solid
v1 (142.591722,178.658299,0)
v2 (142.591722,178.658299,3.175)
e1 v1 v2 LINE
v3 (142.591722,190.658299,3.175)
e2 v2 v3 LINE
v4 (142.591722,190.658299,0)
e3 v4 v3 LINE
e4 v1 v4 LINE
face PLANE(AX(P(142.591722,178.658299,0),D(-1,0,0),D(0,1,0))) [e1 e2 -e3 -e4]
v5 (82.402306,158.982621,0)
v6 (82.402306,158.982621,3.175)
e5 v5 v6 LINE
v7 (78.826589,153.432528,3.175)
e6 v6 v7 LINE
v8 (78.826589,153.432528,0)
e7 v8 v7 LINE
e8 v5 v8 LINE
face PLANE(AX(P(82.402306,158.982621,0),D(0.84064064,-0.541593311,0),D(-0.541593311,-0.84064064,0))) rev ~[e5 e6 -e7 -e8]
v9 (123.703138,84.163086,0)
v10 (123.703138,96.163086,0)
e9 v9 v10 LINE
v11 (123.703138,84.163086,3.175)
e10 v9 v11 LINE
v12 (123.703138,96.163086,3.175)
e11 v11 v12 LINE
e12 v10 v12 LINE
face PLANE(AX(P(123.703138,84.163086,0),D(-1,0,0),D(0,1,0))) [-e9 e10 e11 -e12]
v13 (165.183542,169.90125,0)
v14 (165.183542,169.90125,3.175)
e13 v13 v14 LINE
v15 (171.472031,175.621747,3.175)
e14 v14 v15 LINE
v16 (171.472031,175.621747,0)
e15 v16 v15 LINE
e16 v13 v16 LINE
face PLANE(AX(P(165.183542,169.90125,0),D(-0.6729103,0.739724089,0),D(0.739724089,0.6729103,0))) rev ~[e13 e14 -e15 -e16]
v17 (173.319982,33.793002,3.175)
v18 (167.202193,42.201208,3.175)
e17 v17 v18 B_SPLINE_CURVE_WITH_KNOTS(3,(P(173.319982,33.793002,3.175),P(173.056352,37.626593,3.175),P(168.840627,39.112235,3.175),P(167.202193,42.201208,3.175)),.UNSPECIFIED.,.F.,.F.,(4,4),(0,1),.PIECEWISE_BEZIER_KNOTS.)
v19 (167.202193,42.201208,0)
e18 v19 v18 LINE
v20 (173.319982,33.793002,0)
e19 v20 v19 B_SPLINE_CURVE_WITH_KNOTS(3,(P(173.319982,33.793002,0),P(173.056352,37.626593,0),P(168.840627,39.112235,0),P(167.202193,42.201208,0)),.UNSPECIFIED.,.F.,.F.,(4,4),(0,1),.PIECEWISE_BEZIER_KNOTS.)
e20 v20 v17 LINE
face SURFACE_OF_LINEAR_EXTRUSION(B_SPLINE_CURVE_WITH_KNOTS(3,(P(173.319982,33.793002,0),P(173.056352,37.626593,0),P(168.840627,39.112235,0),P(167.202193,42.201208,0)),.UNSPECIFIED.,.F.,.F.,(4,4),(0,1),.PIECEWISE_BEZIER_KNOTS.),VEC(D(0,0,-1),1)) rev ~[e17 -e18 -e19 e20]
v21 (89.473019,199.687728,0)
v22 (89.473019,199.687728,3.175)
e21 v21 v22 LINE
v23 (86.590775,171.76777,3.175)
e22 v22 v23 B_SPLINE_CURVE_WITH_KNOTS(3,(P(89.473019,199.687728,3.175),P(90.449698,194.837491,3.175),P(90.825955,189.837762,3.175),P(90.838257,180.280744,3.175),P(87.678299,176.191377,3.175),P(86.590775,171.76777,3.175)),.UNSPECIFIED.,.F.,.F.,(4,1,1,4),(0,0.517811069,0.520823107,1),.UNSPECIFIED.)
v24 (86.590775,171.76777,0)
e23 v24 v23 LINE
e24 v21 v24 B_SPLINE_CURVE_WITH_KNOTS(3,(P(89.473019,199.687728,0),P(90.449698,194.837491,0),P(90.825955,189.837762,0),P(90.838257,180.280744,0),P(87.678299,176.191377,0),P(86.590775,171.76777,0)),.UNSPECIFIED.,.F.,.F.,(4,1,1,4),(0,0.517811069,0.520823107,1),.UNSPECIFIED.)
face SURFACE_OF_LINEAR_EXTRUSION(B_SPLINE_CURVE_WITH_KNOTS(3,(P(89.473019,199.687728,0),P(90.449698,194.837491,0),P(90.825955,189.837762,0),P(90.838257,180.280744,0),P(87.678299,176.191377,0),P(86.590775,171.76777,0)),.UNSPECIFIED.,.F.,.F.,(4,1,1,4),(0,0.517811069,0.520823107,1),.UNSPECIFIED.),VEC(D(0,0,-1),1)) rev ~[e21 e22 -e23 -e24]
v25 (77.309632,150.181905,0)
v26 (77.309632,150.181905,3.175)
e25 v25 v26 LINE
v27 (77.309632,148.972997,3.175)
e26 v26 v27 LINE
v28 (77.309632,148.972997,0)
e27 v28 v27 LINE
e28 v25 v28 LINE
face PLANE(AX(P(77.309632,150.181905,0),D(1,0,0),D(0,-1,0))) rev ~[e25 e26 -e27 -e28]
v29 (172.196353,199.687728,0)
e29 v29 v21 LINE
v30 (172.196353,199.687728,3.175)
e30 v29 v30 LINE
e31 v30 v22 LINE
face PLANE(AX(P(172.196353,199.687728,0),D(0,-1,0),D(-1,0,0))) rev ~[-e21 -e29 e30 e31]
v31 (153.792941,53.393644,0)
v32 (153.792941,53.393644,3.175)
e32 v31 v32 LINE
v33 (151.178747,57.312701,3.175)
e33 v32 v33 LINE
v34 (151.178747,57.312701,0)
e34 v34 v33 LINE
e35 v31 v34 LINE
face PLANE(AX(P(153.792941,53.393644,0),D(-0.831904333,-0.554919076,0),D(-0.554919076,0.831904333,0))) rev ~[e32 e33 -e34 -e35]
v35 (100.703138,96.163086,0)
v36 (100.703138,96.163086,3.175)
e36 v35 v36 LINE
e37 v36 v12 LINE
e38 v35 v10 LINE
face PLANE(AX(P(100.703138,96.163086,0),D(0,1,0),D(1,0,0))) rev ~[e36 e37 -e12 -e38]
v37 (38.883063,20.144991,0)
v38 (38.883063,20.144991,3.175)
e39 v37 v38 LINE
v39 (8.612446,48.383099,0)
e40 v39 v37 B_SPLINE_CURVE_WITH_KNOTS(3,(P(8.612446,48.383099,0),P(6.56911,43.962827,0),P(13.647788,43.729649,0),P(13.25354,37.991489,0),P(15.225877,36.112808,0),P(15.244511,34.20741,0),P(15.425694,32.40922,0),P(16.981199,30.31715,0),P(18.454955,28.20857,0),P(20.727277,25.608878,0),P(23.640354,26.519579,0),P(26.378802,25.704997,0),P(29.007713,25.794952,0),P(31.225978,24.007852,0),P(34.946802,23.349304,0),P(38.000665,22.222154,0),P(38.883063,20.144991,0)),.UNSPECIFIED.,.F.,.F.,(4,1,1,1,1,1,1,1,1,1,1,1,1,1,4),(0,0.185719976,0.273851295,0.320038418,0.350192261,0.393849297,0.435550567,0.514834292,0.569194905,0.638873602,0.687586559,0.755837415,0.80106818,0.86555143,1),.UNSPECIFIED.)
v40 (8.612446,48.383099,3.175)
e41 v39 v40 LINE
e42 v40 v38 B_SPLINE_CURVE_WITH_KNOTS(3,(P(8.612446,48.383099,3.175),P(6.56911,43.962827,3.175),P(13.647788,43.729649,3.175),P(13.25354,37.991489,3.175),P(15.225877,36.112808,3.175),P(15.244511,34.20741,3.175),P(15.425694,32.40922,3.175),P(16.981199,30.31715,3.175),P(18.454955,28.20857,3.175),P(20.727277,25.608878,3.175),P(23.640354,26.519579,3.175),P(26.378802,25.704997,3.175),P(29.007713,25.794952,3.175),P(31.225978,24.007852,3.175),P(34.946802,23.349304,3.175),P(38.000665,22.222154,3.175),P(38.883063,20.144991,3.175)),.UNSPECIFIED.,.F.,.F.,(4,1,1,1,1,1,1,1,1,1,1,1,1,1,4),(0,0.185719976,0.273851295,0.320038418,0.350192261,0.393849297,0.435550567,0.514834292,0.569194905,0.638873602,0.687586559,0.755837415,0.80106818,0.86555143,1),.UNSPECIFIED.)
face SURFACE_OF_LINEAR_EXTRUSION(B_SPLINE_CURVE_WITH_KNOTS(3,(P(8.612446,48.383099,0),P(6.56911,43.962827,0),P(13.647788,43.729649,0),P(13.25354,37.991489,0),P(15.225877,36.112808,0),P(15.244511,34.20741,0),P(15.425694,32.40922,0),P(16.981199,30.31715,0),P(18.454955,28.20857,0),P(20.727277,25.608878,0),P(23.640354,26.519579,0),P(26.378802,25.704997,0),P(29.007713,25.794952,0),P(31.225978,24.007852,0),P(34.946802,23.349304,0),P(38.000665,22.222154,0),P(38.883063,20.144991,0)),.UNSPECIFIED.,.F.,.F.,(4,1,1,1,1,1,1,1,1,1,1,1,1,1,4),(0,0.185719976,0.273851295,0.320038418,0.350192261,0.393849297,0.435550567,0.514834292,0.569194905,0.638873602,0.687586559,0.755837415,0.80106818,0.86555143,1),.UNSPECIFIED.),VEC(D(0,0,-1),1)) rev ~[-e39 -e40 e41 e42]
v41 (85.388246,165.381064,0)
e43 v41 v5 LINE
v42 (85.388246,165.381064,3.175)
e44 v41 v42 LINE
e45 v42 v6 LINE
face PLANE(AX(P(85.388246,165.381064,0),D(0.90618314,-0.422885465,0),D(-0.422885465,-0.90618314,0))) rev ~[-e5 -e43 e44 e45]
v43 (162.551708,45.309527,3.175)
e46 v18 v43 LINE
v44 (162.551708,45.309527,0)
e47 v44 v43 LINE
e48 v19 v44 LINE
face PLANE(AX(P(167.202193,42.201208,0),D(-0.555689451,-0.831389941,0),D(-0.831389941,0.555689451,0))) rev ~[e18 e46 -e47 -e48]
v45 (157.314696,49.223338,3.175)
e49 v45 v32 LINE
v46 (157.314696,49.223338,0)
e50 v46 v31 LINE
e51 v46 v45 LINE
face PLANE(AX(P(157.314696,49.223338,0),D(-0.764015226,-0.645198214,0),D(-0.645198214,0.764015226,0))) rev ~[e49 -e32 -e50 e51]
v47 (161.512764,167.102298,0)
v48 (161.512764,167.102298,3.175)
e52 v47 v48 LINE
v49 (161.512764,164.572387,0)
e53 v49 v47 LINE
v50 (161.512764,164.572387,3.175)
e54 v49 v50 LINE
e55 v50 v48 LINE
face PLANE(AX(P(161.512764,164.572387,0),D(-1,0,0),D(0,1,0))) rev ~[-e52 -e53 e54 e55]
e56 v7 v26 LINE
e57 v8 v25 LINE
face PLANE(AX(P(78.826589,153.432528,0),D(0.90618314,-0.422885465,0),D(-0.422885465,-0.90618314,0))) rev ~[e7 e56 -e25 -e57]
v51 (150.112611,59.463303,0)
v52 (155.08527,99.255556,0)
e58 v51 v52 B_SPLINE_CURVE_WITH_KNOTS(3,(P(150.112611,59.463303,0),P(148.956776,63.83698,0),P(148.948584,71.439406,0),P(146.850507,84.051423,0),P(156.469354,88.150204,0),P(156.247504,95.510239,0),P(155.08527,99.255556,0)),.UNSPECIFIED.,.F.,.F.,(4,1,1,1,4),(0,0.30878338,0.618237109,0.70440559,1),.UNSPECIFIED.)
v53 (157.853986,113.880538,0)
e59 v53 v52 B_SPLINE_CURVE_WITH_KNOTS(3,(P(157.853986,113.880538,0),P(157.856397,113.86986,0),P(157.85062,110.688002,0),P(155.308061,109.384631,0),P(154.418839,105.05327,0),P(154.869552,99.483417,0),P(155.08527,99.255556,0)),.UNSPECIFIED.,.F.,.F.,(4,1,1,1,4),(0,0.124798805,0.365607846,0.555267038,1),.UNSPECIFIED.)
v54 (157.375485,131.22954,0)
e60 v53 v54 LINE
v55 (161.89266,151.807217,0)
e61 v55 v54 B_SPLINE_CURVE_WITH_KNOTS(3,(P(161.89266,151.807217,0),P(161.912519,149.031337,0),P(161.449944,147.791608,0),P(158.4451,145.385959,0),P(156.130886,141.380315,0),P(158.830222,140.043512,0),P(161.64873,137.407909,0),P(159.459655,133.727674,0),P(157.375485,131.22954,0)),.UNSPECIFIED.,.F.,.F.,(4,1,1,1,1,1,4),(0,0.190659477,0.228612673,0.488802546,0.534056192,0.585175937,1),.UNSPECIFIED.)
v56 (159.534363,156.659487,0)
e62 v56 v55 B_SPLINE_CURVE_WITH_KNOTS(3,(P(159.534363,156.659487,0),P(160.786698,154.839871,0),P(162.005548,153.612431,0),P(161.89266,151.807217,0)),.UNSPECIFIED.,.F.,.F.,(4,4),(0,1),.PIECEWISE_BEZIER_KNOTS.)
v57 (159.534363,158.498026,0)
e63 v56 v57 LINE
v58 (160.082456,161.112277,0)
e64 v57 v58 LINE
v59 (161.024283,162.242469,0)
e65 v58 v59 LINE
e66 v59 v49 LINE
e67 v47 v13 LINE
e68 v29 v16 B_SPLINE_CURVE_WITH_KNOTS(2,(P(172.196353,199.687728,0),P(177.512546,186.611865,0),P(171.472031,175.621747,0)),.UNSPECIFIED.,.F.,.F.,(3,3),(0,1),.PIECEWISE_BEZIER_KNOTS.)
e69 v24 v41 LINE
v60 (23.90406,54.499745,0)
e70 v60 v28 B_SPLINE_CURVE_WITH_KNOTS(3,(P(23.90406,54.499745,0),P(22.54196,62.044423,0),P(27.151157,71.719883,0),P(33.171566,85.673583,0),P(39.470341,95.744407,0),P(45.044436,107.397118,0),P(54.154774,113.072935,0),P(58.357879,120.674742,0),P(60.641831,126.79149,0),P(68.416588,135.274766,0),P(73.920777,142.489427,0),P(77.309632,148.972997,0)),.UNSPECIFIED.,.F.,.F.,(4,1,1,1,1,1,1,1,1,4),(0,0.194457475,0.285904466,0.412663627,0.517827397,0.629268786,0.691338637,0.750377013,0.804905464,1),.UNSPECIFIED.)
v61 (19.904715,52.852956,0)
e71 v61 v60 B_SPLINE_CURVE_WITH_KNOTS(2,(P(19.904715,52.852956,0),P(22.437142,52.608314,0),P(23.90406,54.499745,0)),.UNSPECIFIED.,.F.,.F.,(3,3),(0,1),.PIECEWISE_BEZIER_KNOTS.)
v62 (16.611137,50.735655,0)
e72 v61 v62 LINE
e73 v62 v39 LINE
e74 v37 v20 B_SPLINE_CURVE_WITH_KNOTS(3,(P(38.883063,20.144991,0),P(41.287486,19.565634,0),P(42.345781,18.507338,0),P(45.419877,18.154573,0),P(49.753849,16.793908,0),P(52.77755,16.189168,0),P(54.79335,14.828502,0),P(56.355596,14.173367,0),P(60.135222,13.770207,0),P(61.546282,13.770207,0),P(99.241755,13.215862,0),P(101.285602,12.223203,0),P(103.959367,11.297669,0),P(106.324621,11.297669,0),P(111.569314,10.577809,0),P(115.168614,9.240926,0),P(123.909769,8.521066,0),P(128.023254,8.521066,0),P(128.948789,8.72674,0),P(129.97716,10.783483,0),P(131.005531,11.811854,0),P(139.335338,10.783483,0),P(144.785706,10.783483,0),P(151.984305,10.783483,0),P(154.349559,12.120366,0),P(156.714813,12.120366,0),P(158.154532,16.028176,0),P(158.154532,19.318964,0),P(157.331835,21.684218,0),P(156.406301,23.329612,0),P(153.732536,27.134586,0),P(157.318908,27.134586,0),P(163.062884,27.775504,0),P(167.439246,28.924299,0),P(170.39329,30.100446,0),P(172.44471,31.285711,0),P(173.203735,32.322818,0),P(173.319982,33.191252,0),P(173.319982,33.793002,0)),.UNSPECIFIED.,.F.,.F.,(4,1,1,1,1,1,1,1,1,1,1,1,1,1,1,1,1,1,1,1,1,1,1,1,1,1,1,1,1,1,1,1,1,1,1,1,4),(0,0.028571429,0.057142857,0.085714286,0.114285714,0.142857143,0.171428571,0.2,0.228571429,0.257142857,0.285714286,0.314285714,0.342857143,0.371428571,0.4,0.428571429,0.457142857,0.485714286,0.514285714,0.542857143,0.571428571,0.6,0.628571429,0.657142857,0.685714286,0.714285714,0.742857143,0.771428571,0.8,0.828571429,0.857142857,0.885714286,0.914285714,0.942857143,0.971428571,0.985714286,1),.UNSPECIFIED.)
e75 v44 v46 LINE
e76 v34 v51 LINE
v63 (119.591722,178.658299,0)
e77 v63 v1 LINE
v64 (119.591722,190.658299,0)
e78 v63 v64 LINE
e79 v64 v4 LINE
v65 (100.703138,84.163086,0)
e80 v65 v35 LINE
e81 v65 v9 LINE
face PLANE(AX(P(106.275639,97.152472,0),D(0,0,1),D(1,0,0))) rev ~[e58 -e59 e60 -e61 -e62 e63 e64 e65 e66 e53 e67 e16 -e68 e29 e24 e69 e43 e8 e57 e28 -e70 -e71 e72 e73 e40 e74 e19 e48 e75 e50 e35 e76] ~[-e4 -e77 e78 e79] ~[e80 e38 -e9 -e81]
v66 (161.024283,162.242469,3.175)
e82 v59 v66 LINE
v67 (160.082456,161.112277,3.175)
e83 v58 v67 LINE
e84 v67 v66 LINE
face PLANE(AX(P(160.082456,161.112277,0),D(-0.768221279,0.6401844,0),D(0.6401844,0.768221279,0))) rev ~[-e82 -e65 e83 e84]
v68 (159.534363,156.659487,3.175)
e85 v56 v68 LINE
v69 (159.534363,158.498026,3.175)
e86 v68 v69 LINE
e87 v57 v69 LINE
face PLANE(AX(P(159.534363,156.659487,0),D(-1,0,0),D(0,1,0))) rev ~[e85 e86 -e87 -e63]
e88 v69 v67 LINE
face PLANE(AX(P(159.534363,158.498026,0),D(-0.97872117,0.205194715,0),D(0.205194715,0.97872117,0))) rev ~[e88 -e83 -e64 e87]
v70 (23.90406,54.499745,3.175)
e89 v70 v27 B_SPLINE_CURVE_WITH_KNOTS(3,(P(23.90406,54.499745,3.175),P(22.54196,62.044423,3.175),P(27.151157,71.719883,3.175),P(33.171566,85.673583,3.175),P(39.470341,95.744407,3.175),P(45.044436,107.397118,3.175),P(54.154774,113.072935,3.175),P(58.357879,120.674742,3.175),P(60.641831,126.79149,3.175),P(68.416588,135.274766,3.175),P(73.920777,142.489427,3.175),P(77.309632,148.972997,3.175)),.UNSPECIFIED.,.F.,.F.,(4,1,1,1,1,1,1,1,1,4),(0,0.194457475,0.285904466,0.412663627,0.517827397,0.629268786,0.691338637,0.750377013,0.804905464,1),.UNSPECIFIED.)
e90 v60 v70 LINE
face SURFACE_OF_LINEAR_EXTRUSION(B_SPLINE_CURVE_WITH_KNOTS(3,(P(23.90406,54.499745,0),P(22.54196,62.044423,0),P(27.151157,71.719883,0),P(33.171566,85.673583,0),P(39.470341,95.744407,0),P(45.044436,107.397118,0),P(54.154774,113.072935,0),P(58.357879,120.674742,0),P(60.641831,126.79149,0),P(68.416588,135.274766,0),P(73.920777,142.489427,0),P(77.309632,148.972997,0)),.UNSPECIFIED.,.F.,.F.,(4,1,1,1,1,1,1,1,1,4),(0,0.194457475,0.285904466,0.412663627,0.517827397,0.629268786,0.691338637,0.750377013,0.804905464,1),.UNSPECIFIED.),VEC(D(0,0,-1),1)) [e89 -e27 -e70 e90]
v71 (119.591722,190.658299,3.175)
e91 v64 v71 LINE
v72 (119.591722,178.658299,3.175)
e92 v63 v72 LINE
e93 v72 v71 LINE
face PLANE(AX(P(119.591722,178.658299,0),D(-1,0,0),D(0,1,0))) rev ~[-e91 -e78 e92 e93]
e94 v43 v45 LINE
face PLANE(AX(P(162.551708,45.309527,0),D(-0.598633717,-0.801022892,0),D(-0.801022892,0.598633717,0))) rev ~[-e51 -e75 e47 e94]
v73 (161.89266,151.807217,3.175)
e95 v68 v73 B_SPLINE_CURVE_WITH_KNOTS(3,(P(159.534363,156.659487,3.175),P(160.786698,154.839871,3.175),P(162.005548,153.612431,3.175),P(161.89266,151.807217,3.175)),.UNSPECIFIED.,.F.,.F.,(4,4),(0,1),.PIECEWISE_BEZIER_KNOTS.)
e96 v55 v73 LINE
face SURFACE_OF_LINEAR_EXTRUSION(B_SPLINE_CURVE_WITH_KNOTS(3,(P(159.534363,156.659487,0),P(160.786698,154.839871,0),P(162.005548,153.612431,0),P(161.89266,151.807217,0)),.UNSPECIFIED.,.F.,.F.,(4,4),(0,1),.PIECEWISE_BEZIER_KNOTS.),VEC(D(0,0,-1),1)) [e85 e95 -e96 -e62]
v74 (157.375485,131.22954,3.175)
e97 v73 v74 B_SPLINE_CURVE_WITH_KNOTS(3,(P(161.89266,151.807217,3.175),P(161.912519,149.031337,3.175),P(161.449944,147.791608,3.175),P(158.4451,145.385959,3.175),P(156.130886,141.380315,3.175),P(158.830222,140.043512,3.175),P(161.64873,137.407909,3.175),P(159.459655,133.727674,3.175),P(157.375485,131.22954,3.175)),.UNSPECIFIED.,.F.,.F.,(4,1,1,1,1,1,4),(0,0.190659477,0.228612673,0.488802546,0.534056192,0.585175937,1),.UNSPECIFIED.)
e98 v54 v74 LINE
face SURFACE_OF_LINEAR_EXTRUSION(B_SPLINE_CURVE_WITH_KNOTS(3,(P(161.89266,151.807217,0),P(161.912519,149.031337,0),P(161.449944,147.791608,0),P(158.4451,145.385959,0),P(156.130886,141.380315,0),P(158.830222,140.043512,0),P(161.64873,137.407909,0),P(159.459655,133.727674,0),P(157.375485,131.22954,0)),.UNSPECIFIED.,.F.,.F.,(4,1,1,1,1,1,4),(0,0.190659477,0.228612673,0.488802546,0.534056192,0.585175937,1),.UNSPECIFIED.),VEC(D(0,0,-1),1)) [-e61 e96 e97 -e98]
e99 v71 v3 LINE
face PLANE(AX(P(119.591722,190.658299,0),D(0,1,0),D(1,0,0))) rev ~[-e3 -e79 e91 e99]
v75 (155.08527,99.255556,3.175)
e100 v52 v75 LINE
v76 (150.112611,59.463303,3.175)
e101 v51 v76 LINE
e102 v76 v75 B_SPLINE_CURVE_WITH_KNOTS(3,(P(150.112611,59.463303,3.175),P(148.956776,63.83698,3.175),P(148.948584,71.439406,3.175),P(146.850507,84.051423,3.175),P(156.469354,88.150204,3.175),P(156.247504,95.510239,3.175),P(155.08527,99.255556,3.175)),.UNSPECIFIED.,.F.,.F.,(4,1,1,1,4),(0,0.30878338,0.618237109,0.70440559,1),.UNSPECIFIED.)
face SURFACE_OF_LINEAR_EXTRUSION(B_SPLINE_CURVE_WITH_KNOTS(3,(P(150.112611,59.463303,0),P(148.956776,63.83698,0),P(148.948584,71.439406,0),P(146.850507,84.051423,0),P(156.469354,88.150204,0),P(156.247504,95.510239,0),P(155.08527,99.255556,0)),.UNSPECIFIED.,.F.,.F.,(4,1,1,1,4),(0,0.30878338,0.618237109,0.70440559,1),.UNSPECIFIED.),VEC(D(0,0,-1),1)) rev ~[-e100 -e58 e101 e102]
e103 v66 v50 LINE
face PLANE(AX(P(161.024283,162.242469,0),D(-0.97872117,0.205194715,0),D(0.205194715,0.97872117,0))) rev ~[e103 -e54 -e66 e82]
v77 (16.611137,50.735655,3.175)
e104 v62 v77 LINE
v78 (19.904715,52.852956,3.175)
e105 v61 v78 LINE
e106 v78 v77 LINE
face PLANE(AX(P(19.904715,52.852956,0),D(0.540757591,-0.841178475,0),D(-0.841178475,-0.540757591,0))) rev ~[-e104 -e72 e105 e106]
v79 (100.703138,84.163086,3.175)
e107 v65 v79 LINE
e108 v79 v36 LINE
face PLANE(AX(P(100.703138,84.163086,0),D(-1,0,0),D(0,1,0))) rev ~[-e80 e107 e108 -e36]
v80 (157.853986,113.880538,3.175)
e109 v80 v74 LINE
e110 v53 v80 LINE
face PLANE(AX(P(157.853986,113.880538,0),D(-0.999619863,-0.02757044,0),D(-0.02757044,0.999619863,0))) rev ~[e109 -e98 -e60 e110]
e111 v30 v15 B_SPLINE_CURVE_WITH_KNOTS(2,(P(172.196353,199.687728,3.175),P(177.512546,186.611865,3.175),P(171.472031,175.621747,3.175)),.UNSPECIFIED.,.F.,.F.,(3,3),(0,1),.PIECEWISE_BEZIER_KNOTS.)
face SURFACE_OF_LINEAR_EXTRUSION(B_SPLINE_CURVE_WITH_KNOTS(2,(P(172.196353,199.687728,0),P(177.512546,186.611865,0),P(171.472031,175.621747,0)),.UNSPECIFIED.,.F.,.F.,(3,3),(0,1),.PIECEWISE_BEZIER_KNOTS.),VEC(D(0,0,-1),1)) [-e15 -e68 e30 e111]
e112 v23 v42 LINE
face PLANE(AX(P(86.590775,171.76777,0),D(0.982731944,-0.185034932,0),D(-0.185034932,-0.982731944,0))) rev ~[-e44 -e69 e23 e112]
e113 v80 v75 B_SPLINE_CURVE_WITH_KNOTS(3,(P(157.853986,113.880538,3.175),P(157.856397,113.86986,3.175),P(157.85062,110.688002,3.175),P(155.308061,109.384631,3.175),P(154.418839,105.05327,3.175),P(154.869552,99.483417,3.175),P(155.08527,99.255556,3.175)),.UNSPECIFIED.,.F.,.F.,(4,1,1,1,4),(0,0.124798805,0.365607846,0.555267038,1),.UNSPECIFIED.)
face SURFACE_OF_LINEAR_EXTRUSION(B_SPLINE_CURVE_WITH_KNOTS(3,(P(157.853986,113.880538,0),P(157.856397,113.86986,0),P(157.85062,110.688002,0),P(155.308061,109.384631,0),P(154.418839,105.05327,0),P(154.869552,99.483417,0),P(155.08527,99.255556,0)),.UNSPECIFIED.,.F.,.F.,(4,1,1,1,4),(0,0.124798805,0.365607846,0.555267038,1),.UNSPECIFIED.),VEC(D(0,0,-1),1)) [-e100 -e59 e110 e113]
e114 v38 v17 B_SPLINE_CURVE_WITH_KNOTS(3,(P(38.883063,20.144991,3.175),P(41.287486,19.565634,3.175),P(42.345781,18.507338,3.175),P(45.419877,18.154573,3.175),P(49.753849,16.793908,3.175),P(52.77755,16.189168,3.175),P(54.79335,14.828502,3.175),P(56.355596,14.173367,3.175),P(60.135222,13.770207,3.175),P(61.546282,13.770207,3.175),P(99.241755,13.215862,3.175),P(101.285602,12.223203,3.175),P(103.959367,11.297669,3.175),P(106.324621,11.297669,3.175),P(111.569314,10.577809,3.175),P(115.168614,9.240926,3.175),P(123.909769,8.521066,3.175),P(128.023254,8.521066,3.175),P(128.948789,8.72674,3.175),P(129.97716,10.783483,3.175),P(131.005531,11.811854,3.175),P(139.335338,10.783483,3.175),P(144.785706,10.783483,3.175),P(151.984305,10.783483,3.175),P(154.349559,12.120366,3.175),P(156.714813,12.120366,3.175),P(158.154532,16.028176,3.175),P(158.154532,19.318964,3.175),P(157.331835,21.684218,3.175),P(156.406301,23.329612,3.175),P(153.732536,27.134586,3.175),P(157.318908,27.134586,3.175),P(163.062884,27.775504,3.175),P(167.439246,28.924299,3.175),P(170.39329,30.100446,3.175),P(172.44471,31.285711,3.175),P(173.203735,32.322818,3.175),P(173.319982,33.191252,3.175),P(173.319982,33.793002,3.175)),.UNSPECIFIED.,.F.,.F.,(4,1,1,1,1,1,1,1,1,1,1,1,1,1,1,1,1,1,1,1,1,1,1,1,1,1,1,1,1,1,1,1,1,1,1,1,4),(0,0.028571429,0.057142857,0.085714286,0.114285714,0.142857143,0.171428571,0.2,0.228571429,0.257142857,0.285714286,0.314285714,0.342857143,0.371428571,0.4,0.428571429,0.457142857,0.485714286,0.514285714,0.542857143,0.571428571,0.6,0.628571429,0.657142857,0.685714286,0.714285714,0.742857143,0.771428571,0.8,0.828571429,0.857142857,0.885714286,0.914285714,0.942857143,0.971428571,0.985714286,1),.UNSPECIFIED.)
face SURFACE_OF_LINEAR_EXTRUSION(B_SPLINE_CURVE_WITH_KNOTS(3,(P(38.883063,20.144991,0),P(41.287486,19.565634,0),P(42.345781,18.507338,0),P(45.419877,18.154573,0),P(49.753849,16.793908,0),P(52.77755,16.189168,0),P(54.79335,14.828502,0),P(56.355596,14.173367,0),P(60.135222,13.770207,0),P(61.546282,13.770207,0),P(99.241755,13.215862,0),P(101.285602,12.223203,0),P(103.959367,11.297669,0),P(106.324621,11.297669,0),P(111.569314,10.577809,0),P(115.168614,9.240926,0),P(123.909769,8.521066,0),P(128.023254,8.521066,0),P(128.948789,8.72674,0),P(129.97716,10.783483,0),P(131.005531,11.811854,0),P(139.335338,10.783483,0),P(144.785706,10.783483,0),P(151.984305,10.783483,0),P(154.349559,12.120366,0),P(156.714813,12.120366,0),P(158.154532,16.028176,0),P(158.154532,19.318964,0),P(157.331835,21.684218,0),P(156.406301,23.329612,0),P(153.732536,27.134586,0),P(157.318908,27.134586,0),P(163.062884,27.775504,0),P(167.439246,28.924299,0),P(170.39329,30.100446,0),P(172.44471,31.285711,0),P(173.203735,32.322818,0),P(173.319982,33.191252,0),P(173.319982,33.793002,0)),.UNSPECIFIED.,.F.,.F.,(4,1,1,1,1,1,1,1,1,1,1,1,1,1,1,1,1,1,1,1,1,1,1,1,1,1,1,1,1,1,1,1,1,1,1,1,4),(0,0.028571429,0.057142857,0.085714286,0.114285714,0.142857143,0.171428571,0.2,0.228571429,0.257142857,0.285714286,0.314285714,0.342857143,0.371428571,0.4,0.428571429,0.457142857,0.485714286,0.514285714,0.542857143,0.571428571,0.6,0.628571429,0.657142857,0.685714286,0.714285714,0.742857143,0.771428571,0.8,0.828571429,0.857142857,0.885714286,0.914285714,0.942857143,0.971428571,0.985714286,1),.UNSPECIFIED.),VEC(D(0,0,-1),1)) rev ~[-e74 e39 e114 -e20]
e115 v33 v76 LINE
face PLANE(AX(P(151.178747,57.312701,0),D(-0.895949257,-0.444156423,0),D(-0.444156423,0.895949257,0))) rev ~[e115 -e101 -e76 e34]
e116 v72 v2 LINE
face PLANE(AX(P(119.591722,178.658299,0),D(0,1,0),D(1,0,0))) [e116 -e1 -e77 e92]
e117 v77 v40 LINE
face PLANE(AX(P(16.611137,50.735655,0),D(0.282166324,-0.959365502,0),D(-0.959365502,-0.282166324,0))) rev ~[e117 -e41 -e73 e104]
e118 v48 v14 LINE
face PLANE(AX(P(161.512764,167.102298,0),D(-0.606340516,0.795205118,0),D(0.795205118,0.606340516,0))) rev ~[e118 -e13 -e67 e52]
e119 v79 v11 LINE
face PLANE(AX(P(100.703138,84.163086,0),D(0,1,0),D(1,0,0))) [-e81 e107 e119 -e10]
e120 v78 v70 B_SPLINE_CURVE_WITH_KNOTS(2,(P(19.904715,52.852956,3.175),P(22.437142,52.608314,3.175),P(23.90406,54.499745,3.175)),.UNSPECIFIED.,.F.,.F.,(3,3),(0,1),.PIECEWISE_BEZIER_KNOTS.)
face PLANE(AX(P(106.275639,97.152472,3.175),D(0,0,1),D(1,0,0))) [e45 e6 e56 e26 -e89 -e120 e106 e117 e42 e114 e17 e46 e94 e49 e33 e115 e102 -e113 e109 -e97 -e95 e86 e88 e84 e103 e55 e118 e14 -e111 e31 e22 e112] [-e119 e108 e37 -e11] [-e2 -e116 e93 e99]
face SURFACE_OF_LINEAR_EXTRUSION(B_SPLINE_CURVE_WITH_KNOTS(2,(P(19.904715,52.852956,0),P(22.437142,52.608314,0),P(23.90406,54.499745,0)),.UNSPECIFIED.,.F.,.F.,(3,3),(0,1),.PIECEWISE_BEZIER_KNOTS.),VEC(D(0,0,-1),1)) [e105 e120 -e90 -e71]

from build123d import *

# Parameters (mm, degrees)
SKETCH1_W           = 23
SKETCH1_H           = 12
BOSS_EXTRUDE2_DEPTH = 3.175


with BuildPart() as part:
    # Sketch1 → Boss-Extrude2 (new body)
    with BuildSketch(Plane.XY):
        with BuildLine():
            Line((167.202192931, 42.201207676), (162.551708352, 45.309526764))
            Line((162.551708352, 45.309526764), (157.314695785, 49.223337881))
            Line((157.314695785, 49.223337881), (153.792941224, 53.393644073))
            Line((153.792941224, 53.393644073), (151.178747268, 57.312700692))
            Line((151.178747268, 57.312700692), (150.112611404, 59.463302564))
            add(Edge.make_bspline(
                [(150.112611404, 59.463302564), (148.956776361, 63.836980097), (148.948583694, 71.439405876), (146.850507307, 84.051422667), (156.469353715, 88.150203705), (156.247504434, 95.51023866), (155.085269681, 99.2555556)],
                knots=[0, 0, 0, 0, 0.30878338, 0.618237109, 0.70440559, 1, 1, 1, 1], degree=3))
            add(Edge.make_bspline(
                [(157.85398611, 113.880538491), (157.856396998, 113.869859914), (157.850620297, 110.688002063), (155.308060719, 109.384630599), (154.418838948, 105.053269567), (154.8695522, 99.483416676), (155.085269681, 99.2555556)],
                knots=[0, 0, 0, 0, 0.124798805, 0.365607846, 0.555267038, 1, 1, 1, 1], degree=3))
            Line((157.85398611, 113.880538491), (157.37548461, 131.229540091))
            add(Edge.make_bspline(
                [(161.892659898, 151.807216677), (161.91251897, 149.031337188), (161.449944322, 147.791607901), (158.445100345, 145.385958906), (156.130886371, 141.380315264), (158.830222147, 140.043511959), (161.648730322, 137.407909117), (159.459654716, 133.727674066), (157.37548461, 131.229540091)],
                knots=[0, 0, 0, 0, 0.190659477, 0.228612673, 0.488802546, 0.534056192, 0.585175937, 1, 1, 1, 1], degree=3))
            add(Edge.make_bspline(
                [(159.534362736, 156.659486678), (160.786697559, 154.839870961), (162.005548182, 153.612430632), (161.892659898, 151.807216677)],
                knots=[0, 0, 0, 0, 1, 1, 1, 1], degree=3))
            Line((159.534362736, 156.659486678), (159.534362736, 158.498026385))
            Line((159.534362736, 158.498026385), (160.082455849, 161.112276627))
            Line((160.082455849, 161.112276627), (161.024283069, 162.24246929))
            Line((161.024283069, 162.24246929), (161.51276424, 164.572387305))
            Line((161.51276424, 164.572387305), (161.51276424, 167.102297744))
            Line((161.51276424, 167.102297744), (165.183542032, 169.901250177))
            Line((165.183542032, 169.901250177), (171.472031107, 175.621746691))
            add(Edge.make_bspline(
                [(172.196352762, 199.687728108), (177.512545782, 186.611864968), (171.472031107, 175.621746691)],
                knots=[0, 0, 0, 1, 1, 1], degree=2))
            Line((172.196352762, 199.687728108), (89.47301913, 199.687728108))
            add(Edge.make_bspline(
                [(89.47301913, 199.687728108), (90.449698127, 194.83749072), (90.825955315, 189.837761557), (90.838257386, 180.280743918), (87.678298822, 176.191377166), (86.590775441, 171.767770411)],
                knots=[0, 0, 0, 0, 0.517811069, 0.520823107, 1, 1, 1, 1], degree=3))
            Line((86.590775441, 171.767770411), (85.388246292, 165.381063893))
            Line((85.388246292, 165.381063893), (82.402306125, 158.982620678))
            Line((82.402306125, 158.982620678), (78.826589302, 153.432528352))
            Line((78.826589302, 153.432528352), (77.30963174, 150.181905003))
            Line((77.30963174, 150.181905003), (77.30963174, 148.972997238))
            add(Edge.make_bspline(
                [(23.904060298, 54.499744977), (22.54196001, 62.044422938), (27.151157223, 71.719882884), (33.171565612, 85.673583344), (39.470341202, 95.744406946), (45.044436084, 107.397118431), (54.154773918, 113.07293548), (58.357878564, 120.674742163), (60.641830631, 126.791490456), (68.416588167, 135.274765788), (73.920776574, 142.489426767), (77.30963174, 148.972997238)],
                knots=[0, 0, 0, 0, 0.194457475, 0.285904466, 0.412663627, 0.517827397, 0.629268786, 0.691338637, 0.750377013, 0.804905464, 1, 1, 1, 1], degree=3))
            add(Edge.make_bspline(
                [(19.90471503, 52.852955749), (22.437142387, 52.608313662), (23.904060298, 54.499744977)],
                knots=[0, 0, 0, 1, 1, 1], degree=2))
            Line((19.90471503, 52.852955749), (16.611136574, 50.735655313))
            Line((16.611136574, 50.735655313), (8.612446038, 48.383099273))
            add(Edge.make_bspline(
                [(8.612446038, 48.383099273), (6.569110394, 43.962826835), (13.647787757, 43.729648821), (13.25353988, 37.991488936), (15.22587651, 36.112808324), (15.244510931, 34.207409749), (15.425694449, 32.409220236), (16.98119857, 30.317149701), (18.454955258, 28.208570124), (20.727276999, 25.608877763), (23.640354073, 26.519579017), (26.378802415, 25.704997487), (29.007712932, 25.794951803), (31.225977748, 24.007852384), (34.946801718, 23.349304233), (38.00066538, 22.222153794), (38.883062856, 20.144990847)],
                knots=[0, 0, 0, 0, 0.185719976, 0.273851295, 0.320038418, 0.350192261, 0.393849297, 0.435550567, 0.514834292, 0.569194905, 0.638873602, 0.687586559, 0.755837415, 0.80106818, 0.86555143, 1, 1, 1, 1], degree=3))
            add(Edge.make_bspline(
                [(38.883062856, 20.144990847), (41.287485761, 19.565633761), (42.345781106, 18.507338416), (45.419877108, 18.154573301), (49.753848521, 16.793907858), (52.777549507, 16.18916766), (54.793350164, 14.828502217), (56.355595674, 14.173367003), (60.135221906, 13.770206872), (61.546282366, 13.770206872), (99.241754657, 13.215861691), (101.285601848, 12.223202762), (103.959367113, 11.297668631), (106.324621001, 11.297668631), (111.569314404, 10.577808752), (115.168613799, 9.24092612), (123.909769472, 8.521066241), (128.023254495, 8.521066241), (128.948788625, 8.726740492), (129.97715988, 10.783483004), (131.005531136, 11.811854259), (139.335338307, 10.783483004), (144.785705962, 10.783483004), (151.984304751, 10.783483004), (154.349558639, 12.120365636), (156.714812527, 12.120365636), (158.154532285, 16.028176407), (158.154532285, 19.318964425), (157.331835281, 21.684218313), (156.40630115, 23.329612322), (153.732535886, 27.134585968), (157.318908473, 27.134585968), (163.062883757, 27.775503981), (167.439245879, 28.924299038), (170.393290311, 30.100446358), (172.444710055, 31.285711099), (173.20373536, 32.322817748), (173.319982479, 33.191252106), (173.319982479, 33.793001898)],
                knots=[0, 0, 0, 0, 0.028571429, 0.057142857, 0.085714286, 0.114285714, 0.142857143, 0.171428571, 0.2, 0.228571429, 0.257142857, 0.285714286, 0.314285714, 0.342857143, 0.371428571, 0.4, 0.428571429, 0.457142857, 0.485714286, 0.514285714, 0.542857143, 0.571428571, 0.6, 0.628571429, 0.657142857, 0.685714286, 0.714285714, 0.742857143, 0.771428571, 0.8, 0.828571429, 0.857142857, 0.885714286, 0.914285714, 0.942857143, 0.971428571, 0.985714286, 1, 1, 1, 1], degree=3))
            add(Edge.make_bspline(
                [(173.319982479, 33.793001898), (173.056351571, 37.626592871), (168.840626644, 39.112234918), (167.202192931, 42.201207676)],
                knots=[0, 0, 0, 0, 1, 1, 1, 1], degree=3))
        make_face()
        with Locations((112.203138272, 90.163085625)):
            Rectangle(SKETCH1_W, SKETCH1_H, mode=Mode.SUBTRACT)
        with Locations((131.091721685, 184.658299227)):
            Rectangle(SKETCH1_W, SKETCH1_H, mode=Mode.SUBTRACT)
    extrude(amount=BOSS_EXTRUDE2_DEPTH)


solid = part.part
